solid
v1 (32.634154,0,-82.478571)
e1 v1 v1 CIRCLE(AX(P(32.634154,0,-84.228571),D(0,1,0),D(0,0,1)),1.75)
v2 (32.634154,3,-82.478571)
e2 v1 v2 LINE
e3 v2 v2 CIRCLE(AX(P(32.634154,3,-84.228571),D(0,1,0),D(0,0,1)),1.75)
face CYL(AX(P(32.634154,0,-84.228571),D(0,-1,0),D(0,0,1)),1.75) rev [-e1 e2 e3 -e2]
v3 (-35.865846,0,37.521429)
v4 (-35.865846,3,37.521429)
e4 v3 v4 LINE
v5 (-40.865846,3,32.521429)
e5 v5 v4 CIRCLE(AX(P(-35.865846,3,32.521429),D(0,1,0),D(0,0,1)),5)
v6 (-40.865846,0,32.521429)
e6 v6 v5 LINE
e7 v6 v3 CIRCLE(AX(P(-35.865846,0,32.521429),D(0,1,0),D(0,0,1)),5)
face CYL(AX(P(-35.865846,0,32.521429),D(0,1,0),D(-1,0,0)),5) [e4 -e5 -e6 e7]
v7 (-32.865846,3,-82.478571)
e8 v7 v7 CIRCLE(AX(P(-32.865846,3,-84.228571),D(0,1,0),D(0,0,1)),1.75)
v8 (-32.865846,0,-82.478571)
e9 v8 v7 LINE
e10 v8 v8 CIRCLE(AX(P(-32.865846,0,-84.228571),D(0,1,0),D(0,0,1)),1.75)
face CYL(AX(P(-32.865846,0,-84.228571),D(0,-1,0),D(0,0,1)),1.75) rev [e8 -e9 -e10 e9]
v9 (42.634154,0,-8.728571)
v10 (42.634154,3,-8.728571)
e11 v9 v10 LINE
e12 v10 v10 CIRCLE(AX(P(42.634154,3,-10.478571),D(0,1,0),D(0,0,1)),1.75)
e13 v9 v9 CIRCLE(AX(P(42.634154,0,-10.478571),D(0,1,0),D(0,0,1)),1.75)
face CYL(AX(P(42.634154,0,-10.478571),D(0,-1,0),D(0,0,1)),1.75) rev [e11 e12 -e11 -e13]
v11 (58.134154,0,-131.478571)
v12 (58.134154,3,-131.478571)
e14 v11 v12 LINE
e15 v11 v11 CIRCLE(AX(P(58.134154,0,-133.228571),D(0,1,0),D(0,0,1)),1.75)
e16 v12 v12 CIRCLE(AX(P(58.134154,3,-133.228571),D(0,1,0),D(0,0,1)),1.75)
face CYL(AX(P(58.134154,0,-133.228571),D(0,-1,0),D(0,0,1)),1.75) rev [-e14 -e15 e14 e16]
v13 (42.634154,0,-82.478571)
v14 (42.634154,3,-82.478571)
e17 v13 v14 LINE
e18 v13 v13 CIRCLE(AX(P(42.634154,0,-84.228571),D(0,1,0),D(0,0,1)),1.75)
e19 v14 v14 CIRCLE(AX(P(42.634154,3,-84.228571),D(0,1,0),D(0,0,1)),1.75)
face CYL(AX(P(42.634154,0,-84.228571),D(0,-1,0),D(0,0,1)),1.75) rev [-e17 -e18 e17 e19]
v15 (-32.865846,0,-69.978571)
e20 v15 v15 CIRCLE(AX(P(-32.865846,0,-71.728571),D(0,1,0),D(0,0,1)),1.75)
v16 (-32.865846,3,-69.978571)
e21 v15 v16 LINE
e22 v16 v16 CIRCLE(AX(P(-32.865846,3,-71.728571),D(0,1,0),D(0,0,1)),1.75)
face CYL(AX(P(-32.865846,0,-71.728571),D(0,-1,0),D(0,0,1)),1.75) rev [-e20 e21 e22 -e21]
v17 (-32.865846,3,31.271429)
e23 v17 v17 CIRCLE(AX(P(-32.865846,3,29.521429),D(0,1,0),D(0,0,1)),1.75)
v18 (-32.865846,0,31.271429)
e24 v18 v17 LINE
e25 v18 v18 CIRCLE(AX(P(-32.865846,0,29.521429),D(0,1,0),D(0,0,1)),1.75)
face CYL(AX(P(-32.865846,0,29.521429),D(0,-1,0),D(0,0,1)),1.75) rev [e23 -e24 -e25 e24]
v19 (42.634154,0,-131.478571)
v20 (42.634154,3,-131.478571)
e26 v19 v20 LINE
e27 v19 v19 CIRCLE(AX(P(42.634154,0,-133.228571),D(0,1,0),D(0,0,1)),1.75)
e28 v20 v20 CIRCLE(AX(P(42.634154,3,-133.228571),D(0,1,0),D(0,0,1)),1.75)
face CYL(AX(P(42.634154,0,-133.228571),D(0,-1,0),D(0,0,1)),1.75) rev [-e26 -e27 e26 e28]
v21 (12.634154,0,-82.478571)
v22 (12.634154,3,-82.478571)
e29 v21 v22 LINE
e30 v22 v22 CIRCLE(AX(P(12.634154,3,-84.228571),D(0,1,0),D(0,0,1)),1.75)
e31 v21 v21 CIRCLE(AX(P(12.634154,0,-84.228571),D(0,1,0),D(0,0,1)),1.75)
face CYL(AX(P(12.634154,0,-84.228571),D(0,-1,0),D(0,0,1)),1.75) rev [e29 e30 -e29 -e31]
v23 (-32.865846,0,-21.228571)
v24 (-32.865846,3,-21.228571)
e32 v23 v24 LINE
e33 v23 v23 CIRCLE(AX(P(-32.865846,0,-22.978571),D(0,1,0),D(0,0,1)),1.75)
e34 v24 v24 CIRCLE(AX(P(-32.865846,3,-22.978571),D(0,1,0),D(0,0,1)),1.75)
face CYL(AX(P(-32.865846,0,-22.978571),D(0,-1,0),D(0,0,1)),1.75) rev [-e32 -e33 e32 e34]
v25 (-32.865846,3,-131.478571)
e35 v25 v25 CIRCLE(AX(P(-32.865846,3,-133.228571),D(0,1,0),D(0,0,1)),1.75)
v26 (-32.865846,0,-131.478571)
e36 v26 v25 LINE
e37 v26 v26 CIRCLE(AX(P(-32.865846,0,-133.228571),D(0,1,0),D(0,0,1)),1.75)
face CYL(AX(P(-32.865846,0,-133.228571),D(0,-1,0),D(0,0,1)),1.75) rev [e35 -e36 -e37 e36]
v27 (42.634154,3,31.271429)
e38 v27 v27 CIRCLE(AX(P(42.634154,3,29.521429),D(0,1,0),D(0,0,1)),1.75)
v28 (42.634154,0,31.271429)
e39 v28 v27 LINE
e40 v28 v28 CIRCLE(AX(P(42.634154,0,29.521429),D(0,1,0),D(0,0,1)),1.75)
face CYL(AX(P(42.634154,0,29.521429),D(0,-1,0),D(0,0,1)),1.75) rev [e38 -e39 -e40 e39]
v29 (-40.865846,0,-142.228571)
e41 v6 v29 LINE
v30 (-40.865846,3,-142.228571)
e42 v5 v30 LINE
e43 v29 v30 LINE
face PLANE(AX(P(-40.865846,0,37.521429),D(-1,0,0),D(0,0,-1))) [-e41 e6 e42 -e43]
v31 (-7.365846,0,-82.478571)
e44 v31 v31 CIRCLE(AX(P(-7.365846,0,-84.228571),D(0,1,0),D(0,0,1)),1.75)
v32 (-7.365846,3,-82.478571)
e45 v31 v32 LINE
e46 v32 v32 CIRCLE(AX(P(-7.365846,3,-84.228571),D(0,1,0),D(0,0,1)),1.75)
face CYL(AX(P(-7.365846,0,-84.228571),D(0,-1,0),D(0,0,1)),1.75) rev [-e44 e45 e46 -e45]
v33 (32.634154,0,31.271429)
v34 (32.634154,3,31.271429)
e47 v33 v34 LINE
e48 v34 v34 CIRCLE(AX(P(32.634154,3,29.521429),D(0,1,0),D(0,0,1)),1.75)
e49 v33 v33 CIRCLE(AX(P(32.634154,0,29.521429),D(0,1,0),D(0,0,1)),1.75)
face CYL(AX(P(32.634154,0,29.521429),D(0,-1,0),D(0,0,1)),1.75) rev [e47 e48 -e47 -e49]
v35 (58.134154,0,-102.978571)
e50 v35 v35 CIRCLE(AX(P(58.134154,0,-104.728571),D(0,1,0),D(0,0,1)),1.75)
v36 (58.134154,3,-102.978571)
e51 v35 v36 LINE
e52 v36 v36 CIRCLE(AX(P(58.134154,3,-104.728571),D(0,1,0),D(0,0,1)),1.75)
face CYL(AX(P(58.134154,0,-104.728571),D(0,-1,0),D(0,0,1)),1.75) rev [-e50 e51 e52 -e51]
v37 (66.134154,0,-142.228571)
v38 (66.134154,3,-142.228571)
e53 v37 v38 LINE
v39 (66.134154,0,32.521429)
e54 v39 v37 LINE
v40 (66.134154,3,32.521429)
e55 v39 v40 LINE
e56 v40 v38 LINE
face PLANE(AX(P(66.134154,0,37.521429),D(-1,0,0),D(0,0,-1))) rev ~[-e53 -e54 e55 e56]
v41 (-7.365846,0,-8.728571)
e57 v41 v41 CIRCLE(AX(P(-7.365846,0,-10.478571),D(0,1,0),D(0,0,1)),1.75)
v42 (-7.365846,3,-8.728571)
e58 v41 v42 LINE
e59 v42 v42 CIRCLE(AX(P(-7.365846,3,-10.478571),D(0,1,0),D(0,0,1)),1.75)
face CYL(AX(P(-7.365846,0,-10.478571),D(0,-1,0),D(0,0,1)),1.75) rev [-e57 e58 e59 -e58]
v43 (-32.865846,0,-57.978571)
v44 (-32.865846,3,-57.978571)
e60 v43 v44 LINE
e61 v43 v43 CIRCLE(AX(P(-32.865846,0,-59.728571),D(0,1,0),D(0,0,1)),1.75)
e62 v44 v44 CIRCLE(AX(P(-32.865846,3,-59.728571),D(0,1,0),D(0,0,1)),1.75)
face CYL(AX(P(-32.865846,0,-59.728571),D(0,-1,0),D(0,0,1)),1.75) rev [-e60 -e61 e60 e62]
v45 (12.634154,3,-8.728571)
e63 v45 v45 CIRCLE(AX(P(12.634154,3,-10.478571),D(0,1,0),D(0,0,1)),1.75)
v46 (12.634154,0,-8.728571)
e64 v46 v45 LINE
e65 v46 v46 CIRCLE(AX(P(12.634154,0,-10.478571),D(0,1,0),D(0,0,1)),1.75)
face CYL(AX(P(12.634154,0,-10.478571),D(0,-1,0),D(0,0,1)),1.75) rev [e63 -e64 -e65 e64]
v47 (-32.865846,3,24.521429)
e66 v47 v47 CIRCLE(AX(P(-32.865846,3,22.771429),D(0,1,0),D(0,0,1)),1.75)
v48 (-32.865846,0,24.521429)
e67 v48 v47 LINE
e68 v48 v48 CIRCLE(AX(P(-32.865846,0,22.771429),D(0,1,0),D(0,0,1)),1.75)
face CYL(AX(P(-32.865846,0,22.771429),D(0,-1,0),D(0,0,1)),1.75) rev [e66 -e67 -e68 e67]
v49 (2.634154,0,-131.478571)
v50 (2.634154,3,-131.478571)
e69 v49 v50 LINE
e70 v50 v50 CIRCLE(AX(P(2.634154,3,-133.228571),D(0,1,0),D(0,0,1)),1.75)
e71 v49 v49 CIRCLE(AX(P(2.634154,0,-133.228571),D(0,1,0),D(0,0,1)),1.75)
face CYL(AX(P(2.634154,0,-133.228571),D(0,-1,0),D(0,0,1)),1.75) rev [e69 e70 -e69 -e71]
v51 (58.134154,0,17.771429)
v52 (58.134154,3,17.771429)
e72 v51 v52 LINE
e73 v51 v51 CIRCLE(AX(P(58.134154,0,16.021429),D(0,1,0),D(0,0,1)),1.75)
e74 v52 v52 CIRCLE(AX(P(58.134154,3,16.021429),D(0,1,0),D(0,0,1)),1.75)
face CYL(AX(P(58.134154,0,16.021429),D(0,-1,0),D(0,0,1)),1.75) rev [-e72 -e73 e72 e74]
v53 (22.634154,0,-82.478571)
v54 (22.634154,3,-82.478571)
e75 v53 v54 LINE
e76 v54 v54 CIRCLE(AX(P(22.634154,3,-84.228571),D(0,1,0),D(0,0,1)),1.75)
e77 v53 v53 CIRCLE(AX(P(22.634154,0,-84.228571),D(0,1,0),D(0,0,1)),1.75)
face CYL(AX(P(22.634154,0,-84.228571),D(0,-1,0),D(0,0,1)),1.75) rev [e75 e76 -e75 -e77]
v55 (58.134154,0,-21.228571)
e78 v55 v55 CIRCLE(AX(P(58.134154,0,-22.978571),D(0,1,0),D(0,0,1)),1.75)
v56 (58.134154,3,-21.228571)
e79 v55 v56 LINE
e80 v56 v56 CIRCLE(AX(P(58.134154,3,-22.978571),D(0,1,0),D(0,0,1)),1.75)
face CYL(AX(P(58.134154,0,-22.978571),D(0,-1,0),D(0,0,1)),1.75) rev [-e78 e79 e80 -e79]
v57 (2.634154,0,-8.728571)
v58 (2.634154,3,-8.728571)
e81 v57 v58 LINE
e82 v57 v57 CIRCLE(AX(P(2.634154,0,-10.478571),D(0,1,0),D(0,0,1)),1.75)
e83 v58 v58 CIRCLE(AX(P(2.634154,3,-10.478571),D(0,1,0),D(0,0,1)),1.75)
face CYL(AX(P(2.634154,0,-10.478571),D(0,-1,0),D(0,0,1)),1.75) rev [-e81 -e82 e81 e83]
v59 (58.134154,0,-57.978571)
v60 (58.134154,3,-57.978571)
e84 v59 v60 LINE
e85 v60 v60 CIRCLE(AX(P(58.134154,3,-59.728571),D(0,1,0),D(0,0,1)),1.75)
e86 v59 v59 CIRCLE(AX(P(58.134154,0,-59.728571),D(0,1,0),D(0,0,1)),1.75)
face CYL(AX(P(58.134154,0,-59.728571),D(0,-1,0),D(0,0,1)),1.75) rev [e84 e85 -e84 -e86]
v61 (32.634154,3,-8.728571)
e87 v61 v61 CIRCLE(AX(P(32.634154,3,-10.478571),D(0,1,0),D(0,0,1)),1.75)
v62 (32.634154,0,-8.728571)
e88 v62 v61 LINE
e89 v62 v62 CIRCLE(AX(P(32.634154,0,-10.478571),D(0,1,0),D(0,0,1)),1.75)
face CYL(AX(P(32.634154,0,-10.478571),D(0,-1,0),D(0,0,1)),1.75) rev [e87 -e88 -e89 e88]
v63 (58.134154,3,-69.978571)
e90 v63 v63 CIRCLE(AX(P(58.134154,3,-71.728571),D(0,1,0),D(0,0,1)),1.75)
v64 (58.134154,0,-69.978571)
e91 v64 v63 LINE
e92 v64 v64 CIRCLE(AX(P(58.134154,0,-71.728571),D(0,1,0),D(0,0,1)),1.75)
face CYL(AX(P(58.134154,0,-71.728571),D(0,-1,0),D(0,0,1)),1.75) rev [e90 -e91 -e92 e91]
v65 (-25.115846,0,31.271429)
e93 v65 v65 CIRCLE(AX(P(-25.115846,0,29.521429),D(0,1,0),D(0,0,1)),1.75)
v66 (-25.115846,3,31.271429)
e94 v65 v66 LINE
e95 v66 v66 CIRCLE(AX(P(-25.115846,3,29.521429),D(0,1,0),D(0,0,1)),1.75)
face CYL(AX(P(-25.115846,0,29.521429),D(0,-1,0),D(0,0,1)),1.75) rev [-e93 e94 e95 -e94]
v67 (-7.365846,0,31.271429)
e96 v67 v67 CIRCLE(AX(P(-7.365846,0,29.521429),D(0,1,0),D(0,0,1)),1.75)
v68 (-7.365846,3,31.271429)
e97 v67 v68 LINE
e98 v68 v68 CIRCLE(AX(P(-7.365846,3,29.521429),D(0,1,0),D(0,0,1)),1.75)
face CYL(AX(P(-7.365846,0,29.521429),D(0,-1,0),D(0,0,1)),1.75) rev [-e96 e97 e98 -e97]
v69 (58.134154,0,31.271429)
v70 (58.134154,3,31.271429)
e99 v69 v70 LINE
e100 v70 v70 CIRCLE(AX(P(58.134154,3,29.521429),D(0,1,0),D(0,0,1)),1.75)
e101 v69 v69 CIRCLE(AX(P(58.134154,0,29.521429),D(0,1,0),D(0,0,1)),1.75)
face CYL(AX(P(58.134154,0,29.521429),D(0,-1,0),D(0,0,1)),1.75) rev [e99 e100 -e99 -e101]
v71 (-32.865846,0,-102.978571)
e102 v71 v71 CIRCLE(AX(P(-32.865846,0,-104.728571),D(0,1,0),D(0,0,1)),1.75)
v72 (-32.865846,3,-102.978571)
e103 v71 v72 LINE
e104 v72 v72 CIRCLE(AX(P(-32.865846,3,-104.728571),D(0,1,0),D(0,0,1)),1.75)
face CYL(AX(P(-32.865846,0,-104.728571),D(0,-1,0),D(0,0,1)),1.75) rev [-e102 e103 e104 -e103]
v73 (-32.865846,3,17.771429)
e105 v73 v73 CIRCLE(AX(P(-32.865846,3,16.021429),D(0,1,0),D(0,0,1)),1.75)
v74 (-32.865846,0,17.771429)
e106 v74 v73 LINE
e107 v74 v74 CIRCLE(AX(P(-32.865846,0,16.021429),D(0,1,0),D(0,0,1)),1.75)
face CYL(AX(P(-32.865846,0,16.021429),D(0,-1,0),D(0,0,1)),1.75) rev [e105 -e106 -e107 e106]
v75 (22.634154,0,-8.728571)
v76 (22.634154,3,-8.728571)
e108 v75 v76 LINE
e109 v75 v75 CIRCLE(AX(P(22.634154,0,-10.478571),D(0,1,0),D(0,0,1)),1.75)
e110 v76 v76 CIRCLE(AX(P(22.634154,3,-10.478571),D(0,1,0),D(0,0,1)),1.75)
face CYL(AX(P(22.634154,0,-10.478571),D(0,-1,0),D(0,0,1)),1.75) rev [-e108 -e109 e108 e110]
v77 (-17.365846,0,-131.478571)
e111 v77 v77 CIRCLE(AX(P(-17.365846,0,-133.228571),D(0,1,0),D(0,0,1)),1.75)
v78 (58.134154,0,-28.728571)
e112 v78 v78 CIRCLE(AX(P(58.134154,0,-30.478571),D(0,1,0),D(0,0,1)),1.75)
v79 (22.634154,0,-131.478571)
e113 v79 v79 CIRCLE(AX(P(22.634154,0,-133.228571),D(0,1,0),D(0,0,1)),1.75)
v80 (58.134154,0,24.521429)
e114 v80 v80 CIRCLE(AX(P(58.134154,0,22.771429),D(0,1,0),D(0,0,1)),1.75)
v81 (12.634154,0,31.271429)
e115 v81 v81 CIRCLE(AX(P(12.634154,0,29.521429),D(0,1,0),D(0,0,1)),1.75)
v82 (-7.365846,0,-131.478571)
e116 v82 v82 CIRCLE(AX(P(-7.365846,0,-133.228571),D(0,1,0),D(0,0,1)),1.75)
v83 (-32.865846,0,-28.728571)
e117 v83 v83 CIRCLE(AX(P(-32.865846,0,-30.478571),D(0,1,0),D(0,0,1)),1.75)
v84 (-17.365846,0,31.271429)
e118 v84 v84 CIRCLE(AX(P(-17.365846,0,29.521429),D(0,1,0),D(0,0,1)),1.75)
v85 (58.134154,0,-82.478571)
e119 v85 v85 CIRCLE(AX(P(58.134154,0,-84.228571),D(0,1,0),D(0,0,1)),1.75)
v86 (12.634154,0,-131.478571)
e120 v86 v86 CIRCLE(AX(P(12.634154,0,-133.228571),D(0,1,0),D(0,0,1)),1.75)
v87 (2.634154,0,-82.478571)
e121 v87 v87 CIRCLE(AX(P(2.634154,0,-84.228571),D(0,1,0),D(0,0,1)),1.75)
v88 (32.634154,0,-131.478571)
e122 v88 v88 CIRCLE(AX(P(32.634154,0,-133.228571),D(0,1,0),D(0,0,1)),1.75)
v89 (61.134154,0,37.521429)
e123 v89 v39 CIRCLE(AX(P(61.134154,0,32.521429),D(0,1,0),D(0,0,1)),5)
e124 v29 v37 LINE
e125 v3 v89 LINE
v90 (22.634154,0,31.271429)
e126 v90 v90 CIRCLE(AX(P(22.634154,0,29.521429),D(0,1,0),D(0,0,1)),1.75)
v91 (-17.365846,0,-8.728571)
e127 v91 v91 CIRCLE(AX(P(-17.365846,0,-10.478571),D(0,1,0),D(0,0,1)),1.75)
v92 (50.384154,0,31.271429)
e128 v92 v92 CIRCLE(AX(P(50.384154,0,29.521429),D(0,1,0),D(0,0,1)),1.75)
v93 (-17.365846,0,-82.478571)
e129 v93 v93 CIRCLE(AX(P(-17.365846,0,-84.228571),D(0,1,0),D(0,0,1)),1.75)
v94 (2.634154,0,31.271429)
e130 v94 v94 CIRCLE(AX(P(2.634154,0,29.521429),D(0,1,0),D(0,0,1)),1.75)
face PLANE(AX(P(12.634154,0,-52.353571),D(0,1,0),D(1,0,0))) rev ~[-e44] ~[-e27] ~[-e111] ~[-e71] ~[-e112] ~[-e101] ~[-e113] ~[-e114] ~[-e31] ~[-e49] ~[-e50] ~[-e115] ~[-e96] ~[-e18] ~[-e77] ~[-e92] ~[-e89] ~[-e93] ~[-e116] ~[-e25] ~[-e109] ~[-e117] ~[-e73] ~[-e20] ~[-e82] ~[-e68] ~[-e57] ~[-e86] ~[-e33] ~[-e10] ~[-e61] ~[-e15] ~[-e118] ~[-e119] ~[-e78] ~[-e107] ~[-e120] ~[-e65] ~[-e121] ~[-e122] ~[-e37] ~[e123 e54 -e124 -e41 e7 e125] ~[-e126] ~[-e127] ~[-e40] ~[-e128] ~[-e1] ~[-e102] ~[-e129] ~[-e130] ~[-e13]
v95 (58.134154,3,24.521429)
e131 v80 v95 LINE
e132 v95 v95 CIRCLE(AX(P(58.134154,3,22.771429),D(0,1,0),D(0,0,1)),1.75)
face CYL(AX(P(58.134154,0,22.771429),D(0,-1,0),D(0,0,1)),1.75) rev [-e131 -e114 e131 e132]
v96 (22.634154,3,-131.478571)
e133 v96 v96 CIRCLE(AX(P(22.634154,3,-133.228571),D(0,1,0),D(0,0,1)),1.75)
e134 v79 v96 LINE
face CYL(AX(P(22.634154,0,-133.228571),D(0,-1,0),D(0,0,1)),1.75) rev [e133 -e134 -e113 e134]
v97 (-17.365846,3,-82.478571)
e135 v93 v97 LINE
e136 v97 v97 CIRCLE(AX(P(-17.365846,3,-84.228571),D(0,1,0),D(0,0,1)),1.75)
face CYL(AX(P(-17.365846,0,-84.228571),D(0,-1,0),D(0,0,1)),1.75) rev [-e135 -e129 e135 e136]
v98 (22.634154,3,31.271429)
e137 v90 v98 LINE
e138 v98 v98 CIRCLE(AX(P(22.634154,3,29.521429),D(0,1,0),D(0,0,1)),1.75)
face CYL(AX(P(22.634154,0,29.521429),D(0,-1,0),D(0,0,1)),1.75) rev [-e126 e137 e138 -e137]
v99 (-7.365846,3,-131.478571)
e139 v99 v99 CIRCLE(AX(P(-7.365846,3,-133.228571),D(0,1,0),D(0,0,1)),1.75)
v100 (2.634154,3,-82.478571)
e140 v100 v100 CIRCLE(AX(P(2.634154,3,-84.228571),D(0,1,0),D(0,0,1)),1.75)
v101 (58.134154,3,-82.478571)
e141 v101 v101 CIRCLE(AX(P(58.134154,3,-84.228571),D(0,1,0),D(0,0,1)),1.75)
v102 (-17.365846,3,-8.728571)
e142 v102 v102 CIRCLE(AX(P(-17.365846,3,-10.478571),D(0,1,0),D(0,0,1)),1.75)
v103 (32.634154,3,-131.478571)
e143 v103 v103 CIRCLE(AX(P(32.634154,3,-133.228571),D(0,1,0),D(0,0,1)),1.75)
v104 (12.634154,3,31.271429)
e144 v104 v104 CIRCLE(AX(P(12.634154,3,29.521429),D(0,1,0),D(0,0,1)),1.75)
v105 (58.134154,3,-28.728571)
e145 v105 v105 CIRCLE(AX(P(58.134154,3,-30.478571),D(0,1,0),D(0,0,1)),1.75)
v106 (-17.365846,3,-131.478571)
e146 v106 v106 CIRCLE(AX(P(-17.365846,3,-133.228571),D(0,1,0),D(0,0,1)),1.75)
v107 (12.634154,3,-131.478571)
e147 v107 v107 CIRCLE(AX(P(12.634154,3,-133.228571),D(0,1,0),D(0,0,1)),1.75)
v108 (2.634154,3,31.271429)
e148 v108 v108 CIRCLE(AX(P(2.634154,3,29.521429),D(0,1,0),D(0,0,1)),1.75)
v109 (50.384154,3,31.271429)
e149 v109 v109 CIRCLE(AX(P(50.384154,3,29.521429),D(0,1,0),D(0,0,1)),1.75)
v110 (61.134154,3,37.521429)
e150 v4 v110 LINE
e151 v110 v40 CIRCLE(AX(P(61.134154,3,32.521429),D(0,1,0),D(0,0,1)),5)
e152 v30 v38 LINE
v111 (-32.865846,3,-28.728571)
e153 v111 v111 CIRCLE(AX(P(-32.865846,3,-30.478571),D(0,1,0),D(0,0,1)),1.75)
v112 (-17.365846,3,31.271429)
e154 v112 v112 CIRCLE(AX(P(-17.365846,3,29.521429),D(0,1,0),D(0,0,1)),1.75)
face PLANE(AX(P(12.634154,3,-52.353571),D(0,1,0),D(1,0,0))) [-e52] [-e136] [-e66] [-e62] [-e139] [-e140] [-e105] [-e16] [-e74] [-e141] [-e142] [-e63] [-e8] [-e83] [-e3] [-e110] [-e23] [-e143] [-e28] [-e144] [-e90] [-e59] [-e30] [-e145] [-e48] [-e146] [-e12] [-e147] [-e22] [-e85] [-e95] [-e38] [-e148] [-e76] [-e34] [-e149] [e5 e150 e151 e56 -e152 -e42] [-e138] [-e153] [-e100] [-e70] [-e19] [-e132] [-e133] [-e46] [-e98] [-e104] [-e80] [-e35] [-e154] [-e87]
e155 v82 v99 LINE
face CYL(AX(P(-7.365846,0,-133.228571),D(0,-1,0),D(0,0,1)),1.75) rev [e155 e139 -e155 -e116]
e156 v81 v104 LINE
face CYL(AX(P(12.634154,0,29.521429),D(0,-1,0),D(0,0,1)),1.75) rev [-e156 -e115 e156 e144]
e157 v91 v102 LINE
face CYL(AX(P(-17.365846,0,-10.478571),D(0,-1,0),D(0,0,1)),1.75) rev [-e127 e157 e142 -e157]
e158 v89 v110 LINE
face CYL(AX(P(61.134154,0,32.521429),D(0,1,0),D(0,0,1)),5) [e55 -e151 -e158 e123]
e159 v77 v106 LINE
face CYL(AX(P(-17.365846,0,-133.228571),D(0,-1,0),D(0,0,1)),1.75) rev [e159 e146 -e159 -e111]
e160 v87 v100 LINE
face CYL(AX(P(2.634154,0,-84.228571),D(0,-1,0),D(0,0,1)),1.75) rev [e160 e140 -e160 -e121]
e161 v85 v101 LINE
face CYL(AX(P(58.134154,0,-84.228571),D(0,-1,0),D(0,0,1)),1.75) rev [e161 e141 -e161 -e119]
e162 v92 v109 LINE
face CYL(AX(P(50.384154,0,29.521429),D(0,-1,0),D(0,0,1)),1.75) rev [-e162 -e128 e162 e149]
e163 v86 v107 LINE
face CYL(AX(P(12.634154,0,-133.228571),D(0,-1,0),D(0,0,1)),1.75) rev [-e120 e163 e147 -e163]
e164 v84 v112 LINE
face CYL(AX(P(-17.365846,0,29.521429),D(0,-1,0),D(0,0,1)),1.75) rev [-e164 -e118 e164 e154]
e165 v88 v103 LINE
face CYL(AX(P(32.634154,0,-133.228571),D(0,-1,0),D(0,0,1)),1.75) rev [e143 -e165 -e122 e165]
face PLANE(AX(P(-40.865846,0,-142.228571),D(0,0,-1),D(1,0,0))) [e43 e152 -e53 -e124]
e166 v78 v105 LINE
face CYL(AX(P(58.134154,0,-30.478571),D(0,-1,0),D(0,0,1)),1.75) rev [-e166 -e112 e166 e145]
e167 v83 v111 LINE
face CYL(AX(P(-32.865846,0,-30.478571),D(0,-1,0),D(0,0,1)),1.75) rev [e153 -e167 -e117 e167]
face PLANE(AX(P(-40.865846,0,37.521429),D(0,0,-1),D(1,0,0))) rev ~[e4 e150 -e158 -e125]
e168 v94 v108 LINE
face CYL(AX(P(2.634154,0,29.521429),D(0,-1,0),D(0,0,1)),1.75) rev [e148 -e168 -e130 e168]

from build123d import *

# Parameters (mm, degrees)
SKETCH1_W           = 107
SKETCH1_H           = 179.75
SKETCH1_R           = 1.75
BOSS_EXTRUDE1_DEPTH = 3
FILLET1_R           = 5


with BuildPart() as part:
    # Sketch1 → Boss-Extrude1 (new body)
    with BuildSketch(Plane(origin=(0, 0, 0), x_dir=(1, 0, 0), z_dir=(0, 1, 0))):
        with Locations((12.634153991, 52.353571429)):
            Rectangle(SKETCH1_W, SKETCH1_H)
        with Locations(Location((-32.865846009, -22.771428571, 0), (0, 0, 270))):
            Circle(SKETCH1_R, mode=Mode.SUBTRACT)
        with Locations(Location((-32.865846009, 59.728571429, 0), (0, 0, 270))):
            Circle(SKETCH1_R, mode=Mode.SUBTRACT)
        with Locations(Location((-32.865846009, -29.521428571, 0), (0, 0, 270))):
            Circle(SKETCH1_R, mode=Mode.SUBTRACT)
        with Locations(Location((-32.865846009, -16.021428571, 0), (0, 0, 270))):
            Circle(SKETCH1_R, mode=Mode.SUBTRACT)
        with Locations(Location((-32.865846009, 22.978571429, 0), (0, 0, 270))):
            Circle(SKETCH1_R, mode=Mode.SUBTRACT)
        with Locations(Location((-32.865846009, 30.478571429, 0), (0, 0, 270))):
            Circle(SKETCH1_R, mode=Mode.SUBTRACT)
        with Locations(Location((-32.865846009, 71.728571429, 0), (0, 0, 270))):
            Circle(SKETCH1_R, mode=Mode.SUBTRACT)
        with Locations(Location((-32.865846009, 84.228571429, 0), (0, 0, 270))):
            Circle(SKETCH1_R, mode=Mode.SUBTRACT)
        with Locations(Location((-32.865846009, 104.728571429, 0), (0, 0, 270))):
            Circle(SKETCH1_R, mode=Mode.SUBTRACT)
        with Locations(Location((12.634153991, 84.228571429, 0), (0, 0, 270))):
            Circle(SKETCH1_R, mode=Mode.SUBTRACT)
        with Locations(Location((2.634153991, 84.228571429, 0), (0, 0, 270))):
            Circle(SKETCH1_R, mode=Mode.SUBTRACT)
        with Locations(Location((-7.365846009, 84.228571429, 0), (0, 0, 270))):
            Circle(SKETCH1_R, mode=Mode.SUBTRACT)
        with Locations(Location((-17.365846009, 84.228571429, 0), (0, 0, 270))):
            Circle(SKETCH1_R, mode=Mode.SUBTRACT)
        with Locations(Location((-25.115846009, -29.521428571, 0), (0, 0, 270))):
            Circle(SKETCH1_R, mode=Mode.SUBTRACT)
        with Locations(Location((-17.365846009, -29.521428571, 0), (0, 0, 270))):
            Circle(SKETCH1_R, mode=Mode.SUBTRACT)
        with Locations(Location((-7.365846009, -29.521428571, 0), (0, 0, 270))):
            Circle(SKETCH1_R, mode=Mode.SUBTRACT)
        with Locations(Location((2.634153991, -29.521428571, 0), (0, 0, 270))):
            Circle(SKETCH1_R, mode=Mode.SUBTRACT)
        with Locations(Location((12.634153991, -29.521428571, 0), (0, 0, 270))):
            Circle(SKETCH1_R, mode=Mode.SUBTRACT)
        with Locations(Location((-17.365846009, 10.478571429, 0), (0, 0, 270))):
            Circle(SKETCH1_R, mode=Mode.SUBTRACT)
        with Locations(Location((-7.365846009, 10.478571429, 0), (0, 0, 270))):
            Circle(SKETCH1_R, mode=Mode.SUBTRACT)
        with Locations(Location((2.634153991, 10.478571429, 0), (0, 0, 270))):
            Circle(SKETCH1_R, mode=Mode.SUBTRACT)
        with Locations(Location((12.634153991, 10.478571429, 0), (0, 0, 270))):
            Circle(SKETCH1_R, mode=Mode.SUBTRACT)
        with Locations(Location((2.634153991, 133.228571429, 0), (0, 0, 270))):
            Circle(SKETCH1_R, mode=Mode.SUBTRACT)
        with Locations(Location((-7.365846009, 133.228571429, 0), (0, 0, 270))):
            Circle(SKETCH1_R, mode=Mode.SUBTRACT)
        with Locations(Location((12.634153991, 133.228571429, 0), (0, 0, 270))):
            Circle(SKETCH1_R, mode=Mode.SUBTRACT)
        with Locations(Location((-32.865846009, 133.228571429, 0), (0, 0, 270))):
            Circle(SKETCH1_R, mode=Mode.SUBTRACT)
        with Locations(Location((-17.365846009, 133.228571429, 0), (0, 0, 270))):
            Circle(SKETCH1_R, mode=Mode.SUBTRACT)
        with Locations(Location((42.634153991, 133.228571429, 0), (0, 0, 270))):
            Circle(SKETCH1_R, mode=Mode.SUBTRACT)
        with Locations(Location((58.134153991, 133.228571429, 0), (0, 0, 270))):
            Circle(SKETCH1_R, mode=Mode.SUBTRACT)
        with Locations(Location((32.634153991, 133.228571429, 0), (0, 0, 270))):
            Circle(SKETCH1_R, mode=Mode.SUBTRACT)
        with Locations(Location((22.634153991, 133.228571429, 0), (0, 0, 270))):
            Circle(SKETCH1_R, mode=Mode.SUBTRACT)
        with Locations(Location((22.634153991, 10.478571429, 0), (0, 0, 270))):
            Circle(SKETCH1_R, mode=Mode.SUBTRACT)
        with Locations(Location((32.634153991, 10.478571429, 0), (0, 0, 270))):
            Circle(SKETCH1_R, mode=Mode.SUBTRACT)
        with Locations(Location((42.634153991, 10.478571429, 0), (0, 0, 270))):
            Circle(SKETCH1_R, mode=Mode.SUBTRACT)
        with Locations(Location((22.634153991, -29.521428571, 0), (0, 0, 270))):
            Circle(SKETCH1_R, mode=Mode.SUBTRACT)
        with Locations(Location((32.634153991, -29.521428571, 0), (0, 0, 270))):
            Circle(SKETCH1_R, mode=Mode.SUBTRACT)
        with Locations(Location((42.634153991, -29.521428571, 0), (0, 0, 270))):
            Circle(SKETCH1_R, mode=Mode.SUBTRACT)
        with Locations(Location((50.384153991, -29.521428571, 0), (0, 0, 270))):
            Circle(SKETCH1_R, mode=Mode.SUBTRACT)
        with Locations(Location((42.634153991, 84.228571429, 0), (0, 0, 270))):
            Circle(SKETCH1_R, mode=Mode.SUBTRACT)
        with Locations(Location((32.634153991, 84.228571429, 0), (0, 0, 270))):
            Circle(SKETCH1_R, mode=Mode.SUBTRACT)
        with Locations(Location((22.634153991, 84.228571429, 0), (0, 0, 270))):
            Circle(SKETCH1_R, mode=Mode.SUBTRACT)
        with Locations(Location((58.134153991, 104.728571429, 0), (0, 0, 270))):
            Circle(SKETCH1_R, mode=Mode.SUBTRACT)
        with Locations(Location((58.134153991, 84.228571429, 0), (0, 0, 270))):
            Circle(SKETCH1_R, mode=Mode.SUBTRACT)
        with Locations(Location((58.134153991, 71.728571429, 0), (0, 0, 270))):
            Circle(SKETCH1_R, mode=Mode.SUBTRACT)
        with Locations(Location((58.134153991, 30.478571429, 0), (0, 0, 270))):
            Circle(SKETCH1_R, mode=Mode.SUBTRACT)
        with Locations(Location((58.134153991, 22.978571429, 0), (0, 0, 270))):
            Circle(SKETCH1_R, mode=Mode.SUBTRACT)
        with Locations(Location((58.134153991, -16.021428571, 0), (0, 0, 270))):
            Circle(SKETCH1_R, mode=Mode.SUBTRACT)
        with Locations(Location((58.134153991, -29.521428571, 0), (0, 0, 270))):
            Circle(SKETCH1_R, mode=Mode.SUBTRACT)
        with Locations(Location((58.134153991, 59.728571429, 0), (0, 0, 270))):
            Circle(SKETCH1_R, mode=Mode.SUBTRACT)
        with Locations(Location((58.134153991, -22.771428571, 0), (0, 0, 270))):
            Circle(SKETCH1_R, mode=Mode.SUBTRACT)
    extrude(amount=BOSS_EXTRUDE1_DEPTH)

    # Fillet1
    fillet1_edges = [part.edges().sort_by_distance(p)[0] for p in [
        (66.134153991, 1.5, 37.521428571),
        (-40.865846009, 1.5, 37.521428571),
    ]]
    fillet(fillet1_edges, radius=FILLET1_R)


solid = part.part
